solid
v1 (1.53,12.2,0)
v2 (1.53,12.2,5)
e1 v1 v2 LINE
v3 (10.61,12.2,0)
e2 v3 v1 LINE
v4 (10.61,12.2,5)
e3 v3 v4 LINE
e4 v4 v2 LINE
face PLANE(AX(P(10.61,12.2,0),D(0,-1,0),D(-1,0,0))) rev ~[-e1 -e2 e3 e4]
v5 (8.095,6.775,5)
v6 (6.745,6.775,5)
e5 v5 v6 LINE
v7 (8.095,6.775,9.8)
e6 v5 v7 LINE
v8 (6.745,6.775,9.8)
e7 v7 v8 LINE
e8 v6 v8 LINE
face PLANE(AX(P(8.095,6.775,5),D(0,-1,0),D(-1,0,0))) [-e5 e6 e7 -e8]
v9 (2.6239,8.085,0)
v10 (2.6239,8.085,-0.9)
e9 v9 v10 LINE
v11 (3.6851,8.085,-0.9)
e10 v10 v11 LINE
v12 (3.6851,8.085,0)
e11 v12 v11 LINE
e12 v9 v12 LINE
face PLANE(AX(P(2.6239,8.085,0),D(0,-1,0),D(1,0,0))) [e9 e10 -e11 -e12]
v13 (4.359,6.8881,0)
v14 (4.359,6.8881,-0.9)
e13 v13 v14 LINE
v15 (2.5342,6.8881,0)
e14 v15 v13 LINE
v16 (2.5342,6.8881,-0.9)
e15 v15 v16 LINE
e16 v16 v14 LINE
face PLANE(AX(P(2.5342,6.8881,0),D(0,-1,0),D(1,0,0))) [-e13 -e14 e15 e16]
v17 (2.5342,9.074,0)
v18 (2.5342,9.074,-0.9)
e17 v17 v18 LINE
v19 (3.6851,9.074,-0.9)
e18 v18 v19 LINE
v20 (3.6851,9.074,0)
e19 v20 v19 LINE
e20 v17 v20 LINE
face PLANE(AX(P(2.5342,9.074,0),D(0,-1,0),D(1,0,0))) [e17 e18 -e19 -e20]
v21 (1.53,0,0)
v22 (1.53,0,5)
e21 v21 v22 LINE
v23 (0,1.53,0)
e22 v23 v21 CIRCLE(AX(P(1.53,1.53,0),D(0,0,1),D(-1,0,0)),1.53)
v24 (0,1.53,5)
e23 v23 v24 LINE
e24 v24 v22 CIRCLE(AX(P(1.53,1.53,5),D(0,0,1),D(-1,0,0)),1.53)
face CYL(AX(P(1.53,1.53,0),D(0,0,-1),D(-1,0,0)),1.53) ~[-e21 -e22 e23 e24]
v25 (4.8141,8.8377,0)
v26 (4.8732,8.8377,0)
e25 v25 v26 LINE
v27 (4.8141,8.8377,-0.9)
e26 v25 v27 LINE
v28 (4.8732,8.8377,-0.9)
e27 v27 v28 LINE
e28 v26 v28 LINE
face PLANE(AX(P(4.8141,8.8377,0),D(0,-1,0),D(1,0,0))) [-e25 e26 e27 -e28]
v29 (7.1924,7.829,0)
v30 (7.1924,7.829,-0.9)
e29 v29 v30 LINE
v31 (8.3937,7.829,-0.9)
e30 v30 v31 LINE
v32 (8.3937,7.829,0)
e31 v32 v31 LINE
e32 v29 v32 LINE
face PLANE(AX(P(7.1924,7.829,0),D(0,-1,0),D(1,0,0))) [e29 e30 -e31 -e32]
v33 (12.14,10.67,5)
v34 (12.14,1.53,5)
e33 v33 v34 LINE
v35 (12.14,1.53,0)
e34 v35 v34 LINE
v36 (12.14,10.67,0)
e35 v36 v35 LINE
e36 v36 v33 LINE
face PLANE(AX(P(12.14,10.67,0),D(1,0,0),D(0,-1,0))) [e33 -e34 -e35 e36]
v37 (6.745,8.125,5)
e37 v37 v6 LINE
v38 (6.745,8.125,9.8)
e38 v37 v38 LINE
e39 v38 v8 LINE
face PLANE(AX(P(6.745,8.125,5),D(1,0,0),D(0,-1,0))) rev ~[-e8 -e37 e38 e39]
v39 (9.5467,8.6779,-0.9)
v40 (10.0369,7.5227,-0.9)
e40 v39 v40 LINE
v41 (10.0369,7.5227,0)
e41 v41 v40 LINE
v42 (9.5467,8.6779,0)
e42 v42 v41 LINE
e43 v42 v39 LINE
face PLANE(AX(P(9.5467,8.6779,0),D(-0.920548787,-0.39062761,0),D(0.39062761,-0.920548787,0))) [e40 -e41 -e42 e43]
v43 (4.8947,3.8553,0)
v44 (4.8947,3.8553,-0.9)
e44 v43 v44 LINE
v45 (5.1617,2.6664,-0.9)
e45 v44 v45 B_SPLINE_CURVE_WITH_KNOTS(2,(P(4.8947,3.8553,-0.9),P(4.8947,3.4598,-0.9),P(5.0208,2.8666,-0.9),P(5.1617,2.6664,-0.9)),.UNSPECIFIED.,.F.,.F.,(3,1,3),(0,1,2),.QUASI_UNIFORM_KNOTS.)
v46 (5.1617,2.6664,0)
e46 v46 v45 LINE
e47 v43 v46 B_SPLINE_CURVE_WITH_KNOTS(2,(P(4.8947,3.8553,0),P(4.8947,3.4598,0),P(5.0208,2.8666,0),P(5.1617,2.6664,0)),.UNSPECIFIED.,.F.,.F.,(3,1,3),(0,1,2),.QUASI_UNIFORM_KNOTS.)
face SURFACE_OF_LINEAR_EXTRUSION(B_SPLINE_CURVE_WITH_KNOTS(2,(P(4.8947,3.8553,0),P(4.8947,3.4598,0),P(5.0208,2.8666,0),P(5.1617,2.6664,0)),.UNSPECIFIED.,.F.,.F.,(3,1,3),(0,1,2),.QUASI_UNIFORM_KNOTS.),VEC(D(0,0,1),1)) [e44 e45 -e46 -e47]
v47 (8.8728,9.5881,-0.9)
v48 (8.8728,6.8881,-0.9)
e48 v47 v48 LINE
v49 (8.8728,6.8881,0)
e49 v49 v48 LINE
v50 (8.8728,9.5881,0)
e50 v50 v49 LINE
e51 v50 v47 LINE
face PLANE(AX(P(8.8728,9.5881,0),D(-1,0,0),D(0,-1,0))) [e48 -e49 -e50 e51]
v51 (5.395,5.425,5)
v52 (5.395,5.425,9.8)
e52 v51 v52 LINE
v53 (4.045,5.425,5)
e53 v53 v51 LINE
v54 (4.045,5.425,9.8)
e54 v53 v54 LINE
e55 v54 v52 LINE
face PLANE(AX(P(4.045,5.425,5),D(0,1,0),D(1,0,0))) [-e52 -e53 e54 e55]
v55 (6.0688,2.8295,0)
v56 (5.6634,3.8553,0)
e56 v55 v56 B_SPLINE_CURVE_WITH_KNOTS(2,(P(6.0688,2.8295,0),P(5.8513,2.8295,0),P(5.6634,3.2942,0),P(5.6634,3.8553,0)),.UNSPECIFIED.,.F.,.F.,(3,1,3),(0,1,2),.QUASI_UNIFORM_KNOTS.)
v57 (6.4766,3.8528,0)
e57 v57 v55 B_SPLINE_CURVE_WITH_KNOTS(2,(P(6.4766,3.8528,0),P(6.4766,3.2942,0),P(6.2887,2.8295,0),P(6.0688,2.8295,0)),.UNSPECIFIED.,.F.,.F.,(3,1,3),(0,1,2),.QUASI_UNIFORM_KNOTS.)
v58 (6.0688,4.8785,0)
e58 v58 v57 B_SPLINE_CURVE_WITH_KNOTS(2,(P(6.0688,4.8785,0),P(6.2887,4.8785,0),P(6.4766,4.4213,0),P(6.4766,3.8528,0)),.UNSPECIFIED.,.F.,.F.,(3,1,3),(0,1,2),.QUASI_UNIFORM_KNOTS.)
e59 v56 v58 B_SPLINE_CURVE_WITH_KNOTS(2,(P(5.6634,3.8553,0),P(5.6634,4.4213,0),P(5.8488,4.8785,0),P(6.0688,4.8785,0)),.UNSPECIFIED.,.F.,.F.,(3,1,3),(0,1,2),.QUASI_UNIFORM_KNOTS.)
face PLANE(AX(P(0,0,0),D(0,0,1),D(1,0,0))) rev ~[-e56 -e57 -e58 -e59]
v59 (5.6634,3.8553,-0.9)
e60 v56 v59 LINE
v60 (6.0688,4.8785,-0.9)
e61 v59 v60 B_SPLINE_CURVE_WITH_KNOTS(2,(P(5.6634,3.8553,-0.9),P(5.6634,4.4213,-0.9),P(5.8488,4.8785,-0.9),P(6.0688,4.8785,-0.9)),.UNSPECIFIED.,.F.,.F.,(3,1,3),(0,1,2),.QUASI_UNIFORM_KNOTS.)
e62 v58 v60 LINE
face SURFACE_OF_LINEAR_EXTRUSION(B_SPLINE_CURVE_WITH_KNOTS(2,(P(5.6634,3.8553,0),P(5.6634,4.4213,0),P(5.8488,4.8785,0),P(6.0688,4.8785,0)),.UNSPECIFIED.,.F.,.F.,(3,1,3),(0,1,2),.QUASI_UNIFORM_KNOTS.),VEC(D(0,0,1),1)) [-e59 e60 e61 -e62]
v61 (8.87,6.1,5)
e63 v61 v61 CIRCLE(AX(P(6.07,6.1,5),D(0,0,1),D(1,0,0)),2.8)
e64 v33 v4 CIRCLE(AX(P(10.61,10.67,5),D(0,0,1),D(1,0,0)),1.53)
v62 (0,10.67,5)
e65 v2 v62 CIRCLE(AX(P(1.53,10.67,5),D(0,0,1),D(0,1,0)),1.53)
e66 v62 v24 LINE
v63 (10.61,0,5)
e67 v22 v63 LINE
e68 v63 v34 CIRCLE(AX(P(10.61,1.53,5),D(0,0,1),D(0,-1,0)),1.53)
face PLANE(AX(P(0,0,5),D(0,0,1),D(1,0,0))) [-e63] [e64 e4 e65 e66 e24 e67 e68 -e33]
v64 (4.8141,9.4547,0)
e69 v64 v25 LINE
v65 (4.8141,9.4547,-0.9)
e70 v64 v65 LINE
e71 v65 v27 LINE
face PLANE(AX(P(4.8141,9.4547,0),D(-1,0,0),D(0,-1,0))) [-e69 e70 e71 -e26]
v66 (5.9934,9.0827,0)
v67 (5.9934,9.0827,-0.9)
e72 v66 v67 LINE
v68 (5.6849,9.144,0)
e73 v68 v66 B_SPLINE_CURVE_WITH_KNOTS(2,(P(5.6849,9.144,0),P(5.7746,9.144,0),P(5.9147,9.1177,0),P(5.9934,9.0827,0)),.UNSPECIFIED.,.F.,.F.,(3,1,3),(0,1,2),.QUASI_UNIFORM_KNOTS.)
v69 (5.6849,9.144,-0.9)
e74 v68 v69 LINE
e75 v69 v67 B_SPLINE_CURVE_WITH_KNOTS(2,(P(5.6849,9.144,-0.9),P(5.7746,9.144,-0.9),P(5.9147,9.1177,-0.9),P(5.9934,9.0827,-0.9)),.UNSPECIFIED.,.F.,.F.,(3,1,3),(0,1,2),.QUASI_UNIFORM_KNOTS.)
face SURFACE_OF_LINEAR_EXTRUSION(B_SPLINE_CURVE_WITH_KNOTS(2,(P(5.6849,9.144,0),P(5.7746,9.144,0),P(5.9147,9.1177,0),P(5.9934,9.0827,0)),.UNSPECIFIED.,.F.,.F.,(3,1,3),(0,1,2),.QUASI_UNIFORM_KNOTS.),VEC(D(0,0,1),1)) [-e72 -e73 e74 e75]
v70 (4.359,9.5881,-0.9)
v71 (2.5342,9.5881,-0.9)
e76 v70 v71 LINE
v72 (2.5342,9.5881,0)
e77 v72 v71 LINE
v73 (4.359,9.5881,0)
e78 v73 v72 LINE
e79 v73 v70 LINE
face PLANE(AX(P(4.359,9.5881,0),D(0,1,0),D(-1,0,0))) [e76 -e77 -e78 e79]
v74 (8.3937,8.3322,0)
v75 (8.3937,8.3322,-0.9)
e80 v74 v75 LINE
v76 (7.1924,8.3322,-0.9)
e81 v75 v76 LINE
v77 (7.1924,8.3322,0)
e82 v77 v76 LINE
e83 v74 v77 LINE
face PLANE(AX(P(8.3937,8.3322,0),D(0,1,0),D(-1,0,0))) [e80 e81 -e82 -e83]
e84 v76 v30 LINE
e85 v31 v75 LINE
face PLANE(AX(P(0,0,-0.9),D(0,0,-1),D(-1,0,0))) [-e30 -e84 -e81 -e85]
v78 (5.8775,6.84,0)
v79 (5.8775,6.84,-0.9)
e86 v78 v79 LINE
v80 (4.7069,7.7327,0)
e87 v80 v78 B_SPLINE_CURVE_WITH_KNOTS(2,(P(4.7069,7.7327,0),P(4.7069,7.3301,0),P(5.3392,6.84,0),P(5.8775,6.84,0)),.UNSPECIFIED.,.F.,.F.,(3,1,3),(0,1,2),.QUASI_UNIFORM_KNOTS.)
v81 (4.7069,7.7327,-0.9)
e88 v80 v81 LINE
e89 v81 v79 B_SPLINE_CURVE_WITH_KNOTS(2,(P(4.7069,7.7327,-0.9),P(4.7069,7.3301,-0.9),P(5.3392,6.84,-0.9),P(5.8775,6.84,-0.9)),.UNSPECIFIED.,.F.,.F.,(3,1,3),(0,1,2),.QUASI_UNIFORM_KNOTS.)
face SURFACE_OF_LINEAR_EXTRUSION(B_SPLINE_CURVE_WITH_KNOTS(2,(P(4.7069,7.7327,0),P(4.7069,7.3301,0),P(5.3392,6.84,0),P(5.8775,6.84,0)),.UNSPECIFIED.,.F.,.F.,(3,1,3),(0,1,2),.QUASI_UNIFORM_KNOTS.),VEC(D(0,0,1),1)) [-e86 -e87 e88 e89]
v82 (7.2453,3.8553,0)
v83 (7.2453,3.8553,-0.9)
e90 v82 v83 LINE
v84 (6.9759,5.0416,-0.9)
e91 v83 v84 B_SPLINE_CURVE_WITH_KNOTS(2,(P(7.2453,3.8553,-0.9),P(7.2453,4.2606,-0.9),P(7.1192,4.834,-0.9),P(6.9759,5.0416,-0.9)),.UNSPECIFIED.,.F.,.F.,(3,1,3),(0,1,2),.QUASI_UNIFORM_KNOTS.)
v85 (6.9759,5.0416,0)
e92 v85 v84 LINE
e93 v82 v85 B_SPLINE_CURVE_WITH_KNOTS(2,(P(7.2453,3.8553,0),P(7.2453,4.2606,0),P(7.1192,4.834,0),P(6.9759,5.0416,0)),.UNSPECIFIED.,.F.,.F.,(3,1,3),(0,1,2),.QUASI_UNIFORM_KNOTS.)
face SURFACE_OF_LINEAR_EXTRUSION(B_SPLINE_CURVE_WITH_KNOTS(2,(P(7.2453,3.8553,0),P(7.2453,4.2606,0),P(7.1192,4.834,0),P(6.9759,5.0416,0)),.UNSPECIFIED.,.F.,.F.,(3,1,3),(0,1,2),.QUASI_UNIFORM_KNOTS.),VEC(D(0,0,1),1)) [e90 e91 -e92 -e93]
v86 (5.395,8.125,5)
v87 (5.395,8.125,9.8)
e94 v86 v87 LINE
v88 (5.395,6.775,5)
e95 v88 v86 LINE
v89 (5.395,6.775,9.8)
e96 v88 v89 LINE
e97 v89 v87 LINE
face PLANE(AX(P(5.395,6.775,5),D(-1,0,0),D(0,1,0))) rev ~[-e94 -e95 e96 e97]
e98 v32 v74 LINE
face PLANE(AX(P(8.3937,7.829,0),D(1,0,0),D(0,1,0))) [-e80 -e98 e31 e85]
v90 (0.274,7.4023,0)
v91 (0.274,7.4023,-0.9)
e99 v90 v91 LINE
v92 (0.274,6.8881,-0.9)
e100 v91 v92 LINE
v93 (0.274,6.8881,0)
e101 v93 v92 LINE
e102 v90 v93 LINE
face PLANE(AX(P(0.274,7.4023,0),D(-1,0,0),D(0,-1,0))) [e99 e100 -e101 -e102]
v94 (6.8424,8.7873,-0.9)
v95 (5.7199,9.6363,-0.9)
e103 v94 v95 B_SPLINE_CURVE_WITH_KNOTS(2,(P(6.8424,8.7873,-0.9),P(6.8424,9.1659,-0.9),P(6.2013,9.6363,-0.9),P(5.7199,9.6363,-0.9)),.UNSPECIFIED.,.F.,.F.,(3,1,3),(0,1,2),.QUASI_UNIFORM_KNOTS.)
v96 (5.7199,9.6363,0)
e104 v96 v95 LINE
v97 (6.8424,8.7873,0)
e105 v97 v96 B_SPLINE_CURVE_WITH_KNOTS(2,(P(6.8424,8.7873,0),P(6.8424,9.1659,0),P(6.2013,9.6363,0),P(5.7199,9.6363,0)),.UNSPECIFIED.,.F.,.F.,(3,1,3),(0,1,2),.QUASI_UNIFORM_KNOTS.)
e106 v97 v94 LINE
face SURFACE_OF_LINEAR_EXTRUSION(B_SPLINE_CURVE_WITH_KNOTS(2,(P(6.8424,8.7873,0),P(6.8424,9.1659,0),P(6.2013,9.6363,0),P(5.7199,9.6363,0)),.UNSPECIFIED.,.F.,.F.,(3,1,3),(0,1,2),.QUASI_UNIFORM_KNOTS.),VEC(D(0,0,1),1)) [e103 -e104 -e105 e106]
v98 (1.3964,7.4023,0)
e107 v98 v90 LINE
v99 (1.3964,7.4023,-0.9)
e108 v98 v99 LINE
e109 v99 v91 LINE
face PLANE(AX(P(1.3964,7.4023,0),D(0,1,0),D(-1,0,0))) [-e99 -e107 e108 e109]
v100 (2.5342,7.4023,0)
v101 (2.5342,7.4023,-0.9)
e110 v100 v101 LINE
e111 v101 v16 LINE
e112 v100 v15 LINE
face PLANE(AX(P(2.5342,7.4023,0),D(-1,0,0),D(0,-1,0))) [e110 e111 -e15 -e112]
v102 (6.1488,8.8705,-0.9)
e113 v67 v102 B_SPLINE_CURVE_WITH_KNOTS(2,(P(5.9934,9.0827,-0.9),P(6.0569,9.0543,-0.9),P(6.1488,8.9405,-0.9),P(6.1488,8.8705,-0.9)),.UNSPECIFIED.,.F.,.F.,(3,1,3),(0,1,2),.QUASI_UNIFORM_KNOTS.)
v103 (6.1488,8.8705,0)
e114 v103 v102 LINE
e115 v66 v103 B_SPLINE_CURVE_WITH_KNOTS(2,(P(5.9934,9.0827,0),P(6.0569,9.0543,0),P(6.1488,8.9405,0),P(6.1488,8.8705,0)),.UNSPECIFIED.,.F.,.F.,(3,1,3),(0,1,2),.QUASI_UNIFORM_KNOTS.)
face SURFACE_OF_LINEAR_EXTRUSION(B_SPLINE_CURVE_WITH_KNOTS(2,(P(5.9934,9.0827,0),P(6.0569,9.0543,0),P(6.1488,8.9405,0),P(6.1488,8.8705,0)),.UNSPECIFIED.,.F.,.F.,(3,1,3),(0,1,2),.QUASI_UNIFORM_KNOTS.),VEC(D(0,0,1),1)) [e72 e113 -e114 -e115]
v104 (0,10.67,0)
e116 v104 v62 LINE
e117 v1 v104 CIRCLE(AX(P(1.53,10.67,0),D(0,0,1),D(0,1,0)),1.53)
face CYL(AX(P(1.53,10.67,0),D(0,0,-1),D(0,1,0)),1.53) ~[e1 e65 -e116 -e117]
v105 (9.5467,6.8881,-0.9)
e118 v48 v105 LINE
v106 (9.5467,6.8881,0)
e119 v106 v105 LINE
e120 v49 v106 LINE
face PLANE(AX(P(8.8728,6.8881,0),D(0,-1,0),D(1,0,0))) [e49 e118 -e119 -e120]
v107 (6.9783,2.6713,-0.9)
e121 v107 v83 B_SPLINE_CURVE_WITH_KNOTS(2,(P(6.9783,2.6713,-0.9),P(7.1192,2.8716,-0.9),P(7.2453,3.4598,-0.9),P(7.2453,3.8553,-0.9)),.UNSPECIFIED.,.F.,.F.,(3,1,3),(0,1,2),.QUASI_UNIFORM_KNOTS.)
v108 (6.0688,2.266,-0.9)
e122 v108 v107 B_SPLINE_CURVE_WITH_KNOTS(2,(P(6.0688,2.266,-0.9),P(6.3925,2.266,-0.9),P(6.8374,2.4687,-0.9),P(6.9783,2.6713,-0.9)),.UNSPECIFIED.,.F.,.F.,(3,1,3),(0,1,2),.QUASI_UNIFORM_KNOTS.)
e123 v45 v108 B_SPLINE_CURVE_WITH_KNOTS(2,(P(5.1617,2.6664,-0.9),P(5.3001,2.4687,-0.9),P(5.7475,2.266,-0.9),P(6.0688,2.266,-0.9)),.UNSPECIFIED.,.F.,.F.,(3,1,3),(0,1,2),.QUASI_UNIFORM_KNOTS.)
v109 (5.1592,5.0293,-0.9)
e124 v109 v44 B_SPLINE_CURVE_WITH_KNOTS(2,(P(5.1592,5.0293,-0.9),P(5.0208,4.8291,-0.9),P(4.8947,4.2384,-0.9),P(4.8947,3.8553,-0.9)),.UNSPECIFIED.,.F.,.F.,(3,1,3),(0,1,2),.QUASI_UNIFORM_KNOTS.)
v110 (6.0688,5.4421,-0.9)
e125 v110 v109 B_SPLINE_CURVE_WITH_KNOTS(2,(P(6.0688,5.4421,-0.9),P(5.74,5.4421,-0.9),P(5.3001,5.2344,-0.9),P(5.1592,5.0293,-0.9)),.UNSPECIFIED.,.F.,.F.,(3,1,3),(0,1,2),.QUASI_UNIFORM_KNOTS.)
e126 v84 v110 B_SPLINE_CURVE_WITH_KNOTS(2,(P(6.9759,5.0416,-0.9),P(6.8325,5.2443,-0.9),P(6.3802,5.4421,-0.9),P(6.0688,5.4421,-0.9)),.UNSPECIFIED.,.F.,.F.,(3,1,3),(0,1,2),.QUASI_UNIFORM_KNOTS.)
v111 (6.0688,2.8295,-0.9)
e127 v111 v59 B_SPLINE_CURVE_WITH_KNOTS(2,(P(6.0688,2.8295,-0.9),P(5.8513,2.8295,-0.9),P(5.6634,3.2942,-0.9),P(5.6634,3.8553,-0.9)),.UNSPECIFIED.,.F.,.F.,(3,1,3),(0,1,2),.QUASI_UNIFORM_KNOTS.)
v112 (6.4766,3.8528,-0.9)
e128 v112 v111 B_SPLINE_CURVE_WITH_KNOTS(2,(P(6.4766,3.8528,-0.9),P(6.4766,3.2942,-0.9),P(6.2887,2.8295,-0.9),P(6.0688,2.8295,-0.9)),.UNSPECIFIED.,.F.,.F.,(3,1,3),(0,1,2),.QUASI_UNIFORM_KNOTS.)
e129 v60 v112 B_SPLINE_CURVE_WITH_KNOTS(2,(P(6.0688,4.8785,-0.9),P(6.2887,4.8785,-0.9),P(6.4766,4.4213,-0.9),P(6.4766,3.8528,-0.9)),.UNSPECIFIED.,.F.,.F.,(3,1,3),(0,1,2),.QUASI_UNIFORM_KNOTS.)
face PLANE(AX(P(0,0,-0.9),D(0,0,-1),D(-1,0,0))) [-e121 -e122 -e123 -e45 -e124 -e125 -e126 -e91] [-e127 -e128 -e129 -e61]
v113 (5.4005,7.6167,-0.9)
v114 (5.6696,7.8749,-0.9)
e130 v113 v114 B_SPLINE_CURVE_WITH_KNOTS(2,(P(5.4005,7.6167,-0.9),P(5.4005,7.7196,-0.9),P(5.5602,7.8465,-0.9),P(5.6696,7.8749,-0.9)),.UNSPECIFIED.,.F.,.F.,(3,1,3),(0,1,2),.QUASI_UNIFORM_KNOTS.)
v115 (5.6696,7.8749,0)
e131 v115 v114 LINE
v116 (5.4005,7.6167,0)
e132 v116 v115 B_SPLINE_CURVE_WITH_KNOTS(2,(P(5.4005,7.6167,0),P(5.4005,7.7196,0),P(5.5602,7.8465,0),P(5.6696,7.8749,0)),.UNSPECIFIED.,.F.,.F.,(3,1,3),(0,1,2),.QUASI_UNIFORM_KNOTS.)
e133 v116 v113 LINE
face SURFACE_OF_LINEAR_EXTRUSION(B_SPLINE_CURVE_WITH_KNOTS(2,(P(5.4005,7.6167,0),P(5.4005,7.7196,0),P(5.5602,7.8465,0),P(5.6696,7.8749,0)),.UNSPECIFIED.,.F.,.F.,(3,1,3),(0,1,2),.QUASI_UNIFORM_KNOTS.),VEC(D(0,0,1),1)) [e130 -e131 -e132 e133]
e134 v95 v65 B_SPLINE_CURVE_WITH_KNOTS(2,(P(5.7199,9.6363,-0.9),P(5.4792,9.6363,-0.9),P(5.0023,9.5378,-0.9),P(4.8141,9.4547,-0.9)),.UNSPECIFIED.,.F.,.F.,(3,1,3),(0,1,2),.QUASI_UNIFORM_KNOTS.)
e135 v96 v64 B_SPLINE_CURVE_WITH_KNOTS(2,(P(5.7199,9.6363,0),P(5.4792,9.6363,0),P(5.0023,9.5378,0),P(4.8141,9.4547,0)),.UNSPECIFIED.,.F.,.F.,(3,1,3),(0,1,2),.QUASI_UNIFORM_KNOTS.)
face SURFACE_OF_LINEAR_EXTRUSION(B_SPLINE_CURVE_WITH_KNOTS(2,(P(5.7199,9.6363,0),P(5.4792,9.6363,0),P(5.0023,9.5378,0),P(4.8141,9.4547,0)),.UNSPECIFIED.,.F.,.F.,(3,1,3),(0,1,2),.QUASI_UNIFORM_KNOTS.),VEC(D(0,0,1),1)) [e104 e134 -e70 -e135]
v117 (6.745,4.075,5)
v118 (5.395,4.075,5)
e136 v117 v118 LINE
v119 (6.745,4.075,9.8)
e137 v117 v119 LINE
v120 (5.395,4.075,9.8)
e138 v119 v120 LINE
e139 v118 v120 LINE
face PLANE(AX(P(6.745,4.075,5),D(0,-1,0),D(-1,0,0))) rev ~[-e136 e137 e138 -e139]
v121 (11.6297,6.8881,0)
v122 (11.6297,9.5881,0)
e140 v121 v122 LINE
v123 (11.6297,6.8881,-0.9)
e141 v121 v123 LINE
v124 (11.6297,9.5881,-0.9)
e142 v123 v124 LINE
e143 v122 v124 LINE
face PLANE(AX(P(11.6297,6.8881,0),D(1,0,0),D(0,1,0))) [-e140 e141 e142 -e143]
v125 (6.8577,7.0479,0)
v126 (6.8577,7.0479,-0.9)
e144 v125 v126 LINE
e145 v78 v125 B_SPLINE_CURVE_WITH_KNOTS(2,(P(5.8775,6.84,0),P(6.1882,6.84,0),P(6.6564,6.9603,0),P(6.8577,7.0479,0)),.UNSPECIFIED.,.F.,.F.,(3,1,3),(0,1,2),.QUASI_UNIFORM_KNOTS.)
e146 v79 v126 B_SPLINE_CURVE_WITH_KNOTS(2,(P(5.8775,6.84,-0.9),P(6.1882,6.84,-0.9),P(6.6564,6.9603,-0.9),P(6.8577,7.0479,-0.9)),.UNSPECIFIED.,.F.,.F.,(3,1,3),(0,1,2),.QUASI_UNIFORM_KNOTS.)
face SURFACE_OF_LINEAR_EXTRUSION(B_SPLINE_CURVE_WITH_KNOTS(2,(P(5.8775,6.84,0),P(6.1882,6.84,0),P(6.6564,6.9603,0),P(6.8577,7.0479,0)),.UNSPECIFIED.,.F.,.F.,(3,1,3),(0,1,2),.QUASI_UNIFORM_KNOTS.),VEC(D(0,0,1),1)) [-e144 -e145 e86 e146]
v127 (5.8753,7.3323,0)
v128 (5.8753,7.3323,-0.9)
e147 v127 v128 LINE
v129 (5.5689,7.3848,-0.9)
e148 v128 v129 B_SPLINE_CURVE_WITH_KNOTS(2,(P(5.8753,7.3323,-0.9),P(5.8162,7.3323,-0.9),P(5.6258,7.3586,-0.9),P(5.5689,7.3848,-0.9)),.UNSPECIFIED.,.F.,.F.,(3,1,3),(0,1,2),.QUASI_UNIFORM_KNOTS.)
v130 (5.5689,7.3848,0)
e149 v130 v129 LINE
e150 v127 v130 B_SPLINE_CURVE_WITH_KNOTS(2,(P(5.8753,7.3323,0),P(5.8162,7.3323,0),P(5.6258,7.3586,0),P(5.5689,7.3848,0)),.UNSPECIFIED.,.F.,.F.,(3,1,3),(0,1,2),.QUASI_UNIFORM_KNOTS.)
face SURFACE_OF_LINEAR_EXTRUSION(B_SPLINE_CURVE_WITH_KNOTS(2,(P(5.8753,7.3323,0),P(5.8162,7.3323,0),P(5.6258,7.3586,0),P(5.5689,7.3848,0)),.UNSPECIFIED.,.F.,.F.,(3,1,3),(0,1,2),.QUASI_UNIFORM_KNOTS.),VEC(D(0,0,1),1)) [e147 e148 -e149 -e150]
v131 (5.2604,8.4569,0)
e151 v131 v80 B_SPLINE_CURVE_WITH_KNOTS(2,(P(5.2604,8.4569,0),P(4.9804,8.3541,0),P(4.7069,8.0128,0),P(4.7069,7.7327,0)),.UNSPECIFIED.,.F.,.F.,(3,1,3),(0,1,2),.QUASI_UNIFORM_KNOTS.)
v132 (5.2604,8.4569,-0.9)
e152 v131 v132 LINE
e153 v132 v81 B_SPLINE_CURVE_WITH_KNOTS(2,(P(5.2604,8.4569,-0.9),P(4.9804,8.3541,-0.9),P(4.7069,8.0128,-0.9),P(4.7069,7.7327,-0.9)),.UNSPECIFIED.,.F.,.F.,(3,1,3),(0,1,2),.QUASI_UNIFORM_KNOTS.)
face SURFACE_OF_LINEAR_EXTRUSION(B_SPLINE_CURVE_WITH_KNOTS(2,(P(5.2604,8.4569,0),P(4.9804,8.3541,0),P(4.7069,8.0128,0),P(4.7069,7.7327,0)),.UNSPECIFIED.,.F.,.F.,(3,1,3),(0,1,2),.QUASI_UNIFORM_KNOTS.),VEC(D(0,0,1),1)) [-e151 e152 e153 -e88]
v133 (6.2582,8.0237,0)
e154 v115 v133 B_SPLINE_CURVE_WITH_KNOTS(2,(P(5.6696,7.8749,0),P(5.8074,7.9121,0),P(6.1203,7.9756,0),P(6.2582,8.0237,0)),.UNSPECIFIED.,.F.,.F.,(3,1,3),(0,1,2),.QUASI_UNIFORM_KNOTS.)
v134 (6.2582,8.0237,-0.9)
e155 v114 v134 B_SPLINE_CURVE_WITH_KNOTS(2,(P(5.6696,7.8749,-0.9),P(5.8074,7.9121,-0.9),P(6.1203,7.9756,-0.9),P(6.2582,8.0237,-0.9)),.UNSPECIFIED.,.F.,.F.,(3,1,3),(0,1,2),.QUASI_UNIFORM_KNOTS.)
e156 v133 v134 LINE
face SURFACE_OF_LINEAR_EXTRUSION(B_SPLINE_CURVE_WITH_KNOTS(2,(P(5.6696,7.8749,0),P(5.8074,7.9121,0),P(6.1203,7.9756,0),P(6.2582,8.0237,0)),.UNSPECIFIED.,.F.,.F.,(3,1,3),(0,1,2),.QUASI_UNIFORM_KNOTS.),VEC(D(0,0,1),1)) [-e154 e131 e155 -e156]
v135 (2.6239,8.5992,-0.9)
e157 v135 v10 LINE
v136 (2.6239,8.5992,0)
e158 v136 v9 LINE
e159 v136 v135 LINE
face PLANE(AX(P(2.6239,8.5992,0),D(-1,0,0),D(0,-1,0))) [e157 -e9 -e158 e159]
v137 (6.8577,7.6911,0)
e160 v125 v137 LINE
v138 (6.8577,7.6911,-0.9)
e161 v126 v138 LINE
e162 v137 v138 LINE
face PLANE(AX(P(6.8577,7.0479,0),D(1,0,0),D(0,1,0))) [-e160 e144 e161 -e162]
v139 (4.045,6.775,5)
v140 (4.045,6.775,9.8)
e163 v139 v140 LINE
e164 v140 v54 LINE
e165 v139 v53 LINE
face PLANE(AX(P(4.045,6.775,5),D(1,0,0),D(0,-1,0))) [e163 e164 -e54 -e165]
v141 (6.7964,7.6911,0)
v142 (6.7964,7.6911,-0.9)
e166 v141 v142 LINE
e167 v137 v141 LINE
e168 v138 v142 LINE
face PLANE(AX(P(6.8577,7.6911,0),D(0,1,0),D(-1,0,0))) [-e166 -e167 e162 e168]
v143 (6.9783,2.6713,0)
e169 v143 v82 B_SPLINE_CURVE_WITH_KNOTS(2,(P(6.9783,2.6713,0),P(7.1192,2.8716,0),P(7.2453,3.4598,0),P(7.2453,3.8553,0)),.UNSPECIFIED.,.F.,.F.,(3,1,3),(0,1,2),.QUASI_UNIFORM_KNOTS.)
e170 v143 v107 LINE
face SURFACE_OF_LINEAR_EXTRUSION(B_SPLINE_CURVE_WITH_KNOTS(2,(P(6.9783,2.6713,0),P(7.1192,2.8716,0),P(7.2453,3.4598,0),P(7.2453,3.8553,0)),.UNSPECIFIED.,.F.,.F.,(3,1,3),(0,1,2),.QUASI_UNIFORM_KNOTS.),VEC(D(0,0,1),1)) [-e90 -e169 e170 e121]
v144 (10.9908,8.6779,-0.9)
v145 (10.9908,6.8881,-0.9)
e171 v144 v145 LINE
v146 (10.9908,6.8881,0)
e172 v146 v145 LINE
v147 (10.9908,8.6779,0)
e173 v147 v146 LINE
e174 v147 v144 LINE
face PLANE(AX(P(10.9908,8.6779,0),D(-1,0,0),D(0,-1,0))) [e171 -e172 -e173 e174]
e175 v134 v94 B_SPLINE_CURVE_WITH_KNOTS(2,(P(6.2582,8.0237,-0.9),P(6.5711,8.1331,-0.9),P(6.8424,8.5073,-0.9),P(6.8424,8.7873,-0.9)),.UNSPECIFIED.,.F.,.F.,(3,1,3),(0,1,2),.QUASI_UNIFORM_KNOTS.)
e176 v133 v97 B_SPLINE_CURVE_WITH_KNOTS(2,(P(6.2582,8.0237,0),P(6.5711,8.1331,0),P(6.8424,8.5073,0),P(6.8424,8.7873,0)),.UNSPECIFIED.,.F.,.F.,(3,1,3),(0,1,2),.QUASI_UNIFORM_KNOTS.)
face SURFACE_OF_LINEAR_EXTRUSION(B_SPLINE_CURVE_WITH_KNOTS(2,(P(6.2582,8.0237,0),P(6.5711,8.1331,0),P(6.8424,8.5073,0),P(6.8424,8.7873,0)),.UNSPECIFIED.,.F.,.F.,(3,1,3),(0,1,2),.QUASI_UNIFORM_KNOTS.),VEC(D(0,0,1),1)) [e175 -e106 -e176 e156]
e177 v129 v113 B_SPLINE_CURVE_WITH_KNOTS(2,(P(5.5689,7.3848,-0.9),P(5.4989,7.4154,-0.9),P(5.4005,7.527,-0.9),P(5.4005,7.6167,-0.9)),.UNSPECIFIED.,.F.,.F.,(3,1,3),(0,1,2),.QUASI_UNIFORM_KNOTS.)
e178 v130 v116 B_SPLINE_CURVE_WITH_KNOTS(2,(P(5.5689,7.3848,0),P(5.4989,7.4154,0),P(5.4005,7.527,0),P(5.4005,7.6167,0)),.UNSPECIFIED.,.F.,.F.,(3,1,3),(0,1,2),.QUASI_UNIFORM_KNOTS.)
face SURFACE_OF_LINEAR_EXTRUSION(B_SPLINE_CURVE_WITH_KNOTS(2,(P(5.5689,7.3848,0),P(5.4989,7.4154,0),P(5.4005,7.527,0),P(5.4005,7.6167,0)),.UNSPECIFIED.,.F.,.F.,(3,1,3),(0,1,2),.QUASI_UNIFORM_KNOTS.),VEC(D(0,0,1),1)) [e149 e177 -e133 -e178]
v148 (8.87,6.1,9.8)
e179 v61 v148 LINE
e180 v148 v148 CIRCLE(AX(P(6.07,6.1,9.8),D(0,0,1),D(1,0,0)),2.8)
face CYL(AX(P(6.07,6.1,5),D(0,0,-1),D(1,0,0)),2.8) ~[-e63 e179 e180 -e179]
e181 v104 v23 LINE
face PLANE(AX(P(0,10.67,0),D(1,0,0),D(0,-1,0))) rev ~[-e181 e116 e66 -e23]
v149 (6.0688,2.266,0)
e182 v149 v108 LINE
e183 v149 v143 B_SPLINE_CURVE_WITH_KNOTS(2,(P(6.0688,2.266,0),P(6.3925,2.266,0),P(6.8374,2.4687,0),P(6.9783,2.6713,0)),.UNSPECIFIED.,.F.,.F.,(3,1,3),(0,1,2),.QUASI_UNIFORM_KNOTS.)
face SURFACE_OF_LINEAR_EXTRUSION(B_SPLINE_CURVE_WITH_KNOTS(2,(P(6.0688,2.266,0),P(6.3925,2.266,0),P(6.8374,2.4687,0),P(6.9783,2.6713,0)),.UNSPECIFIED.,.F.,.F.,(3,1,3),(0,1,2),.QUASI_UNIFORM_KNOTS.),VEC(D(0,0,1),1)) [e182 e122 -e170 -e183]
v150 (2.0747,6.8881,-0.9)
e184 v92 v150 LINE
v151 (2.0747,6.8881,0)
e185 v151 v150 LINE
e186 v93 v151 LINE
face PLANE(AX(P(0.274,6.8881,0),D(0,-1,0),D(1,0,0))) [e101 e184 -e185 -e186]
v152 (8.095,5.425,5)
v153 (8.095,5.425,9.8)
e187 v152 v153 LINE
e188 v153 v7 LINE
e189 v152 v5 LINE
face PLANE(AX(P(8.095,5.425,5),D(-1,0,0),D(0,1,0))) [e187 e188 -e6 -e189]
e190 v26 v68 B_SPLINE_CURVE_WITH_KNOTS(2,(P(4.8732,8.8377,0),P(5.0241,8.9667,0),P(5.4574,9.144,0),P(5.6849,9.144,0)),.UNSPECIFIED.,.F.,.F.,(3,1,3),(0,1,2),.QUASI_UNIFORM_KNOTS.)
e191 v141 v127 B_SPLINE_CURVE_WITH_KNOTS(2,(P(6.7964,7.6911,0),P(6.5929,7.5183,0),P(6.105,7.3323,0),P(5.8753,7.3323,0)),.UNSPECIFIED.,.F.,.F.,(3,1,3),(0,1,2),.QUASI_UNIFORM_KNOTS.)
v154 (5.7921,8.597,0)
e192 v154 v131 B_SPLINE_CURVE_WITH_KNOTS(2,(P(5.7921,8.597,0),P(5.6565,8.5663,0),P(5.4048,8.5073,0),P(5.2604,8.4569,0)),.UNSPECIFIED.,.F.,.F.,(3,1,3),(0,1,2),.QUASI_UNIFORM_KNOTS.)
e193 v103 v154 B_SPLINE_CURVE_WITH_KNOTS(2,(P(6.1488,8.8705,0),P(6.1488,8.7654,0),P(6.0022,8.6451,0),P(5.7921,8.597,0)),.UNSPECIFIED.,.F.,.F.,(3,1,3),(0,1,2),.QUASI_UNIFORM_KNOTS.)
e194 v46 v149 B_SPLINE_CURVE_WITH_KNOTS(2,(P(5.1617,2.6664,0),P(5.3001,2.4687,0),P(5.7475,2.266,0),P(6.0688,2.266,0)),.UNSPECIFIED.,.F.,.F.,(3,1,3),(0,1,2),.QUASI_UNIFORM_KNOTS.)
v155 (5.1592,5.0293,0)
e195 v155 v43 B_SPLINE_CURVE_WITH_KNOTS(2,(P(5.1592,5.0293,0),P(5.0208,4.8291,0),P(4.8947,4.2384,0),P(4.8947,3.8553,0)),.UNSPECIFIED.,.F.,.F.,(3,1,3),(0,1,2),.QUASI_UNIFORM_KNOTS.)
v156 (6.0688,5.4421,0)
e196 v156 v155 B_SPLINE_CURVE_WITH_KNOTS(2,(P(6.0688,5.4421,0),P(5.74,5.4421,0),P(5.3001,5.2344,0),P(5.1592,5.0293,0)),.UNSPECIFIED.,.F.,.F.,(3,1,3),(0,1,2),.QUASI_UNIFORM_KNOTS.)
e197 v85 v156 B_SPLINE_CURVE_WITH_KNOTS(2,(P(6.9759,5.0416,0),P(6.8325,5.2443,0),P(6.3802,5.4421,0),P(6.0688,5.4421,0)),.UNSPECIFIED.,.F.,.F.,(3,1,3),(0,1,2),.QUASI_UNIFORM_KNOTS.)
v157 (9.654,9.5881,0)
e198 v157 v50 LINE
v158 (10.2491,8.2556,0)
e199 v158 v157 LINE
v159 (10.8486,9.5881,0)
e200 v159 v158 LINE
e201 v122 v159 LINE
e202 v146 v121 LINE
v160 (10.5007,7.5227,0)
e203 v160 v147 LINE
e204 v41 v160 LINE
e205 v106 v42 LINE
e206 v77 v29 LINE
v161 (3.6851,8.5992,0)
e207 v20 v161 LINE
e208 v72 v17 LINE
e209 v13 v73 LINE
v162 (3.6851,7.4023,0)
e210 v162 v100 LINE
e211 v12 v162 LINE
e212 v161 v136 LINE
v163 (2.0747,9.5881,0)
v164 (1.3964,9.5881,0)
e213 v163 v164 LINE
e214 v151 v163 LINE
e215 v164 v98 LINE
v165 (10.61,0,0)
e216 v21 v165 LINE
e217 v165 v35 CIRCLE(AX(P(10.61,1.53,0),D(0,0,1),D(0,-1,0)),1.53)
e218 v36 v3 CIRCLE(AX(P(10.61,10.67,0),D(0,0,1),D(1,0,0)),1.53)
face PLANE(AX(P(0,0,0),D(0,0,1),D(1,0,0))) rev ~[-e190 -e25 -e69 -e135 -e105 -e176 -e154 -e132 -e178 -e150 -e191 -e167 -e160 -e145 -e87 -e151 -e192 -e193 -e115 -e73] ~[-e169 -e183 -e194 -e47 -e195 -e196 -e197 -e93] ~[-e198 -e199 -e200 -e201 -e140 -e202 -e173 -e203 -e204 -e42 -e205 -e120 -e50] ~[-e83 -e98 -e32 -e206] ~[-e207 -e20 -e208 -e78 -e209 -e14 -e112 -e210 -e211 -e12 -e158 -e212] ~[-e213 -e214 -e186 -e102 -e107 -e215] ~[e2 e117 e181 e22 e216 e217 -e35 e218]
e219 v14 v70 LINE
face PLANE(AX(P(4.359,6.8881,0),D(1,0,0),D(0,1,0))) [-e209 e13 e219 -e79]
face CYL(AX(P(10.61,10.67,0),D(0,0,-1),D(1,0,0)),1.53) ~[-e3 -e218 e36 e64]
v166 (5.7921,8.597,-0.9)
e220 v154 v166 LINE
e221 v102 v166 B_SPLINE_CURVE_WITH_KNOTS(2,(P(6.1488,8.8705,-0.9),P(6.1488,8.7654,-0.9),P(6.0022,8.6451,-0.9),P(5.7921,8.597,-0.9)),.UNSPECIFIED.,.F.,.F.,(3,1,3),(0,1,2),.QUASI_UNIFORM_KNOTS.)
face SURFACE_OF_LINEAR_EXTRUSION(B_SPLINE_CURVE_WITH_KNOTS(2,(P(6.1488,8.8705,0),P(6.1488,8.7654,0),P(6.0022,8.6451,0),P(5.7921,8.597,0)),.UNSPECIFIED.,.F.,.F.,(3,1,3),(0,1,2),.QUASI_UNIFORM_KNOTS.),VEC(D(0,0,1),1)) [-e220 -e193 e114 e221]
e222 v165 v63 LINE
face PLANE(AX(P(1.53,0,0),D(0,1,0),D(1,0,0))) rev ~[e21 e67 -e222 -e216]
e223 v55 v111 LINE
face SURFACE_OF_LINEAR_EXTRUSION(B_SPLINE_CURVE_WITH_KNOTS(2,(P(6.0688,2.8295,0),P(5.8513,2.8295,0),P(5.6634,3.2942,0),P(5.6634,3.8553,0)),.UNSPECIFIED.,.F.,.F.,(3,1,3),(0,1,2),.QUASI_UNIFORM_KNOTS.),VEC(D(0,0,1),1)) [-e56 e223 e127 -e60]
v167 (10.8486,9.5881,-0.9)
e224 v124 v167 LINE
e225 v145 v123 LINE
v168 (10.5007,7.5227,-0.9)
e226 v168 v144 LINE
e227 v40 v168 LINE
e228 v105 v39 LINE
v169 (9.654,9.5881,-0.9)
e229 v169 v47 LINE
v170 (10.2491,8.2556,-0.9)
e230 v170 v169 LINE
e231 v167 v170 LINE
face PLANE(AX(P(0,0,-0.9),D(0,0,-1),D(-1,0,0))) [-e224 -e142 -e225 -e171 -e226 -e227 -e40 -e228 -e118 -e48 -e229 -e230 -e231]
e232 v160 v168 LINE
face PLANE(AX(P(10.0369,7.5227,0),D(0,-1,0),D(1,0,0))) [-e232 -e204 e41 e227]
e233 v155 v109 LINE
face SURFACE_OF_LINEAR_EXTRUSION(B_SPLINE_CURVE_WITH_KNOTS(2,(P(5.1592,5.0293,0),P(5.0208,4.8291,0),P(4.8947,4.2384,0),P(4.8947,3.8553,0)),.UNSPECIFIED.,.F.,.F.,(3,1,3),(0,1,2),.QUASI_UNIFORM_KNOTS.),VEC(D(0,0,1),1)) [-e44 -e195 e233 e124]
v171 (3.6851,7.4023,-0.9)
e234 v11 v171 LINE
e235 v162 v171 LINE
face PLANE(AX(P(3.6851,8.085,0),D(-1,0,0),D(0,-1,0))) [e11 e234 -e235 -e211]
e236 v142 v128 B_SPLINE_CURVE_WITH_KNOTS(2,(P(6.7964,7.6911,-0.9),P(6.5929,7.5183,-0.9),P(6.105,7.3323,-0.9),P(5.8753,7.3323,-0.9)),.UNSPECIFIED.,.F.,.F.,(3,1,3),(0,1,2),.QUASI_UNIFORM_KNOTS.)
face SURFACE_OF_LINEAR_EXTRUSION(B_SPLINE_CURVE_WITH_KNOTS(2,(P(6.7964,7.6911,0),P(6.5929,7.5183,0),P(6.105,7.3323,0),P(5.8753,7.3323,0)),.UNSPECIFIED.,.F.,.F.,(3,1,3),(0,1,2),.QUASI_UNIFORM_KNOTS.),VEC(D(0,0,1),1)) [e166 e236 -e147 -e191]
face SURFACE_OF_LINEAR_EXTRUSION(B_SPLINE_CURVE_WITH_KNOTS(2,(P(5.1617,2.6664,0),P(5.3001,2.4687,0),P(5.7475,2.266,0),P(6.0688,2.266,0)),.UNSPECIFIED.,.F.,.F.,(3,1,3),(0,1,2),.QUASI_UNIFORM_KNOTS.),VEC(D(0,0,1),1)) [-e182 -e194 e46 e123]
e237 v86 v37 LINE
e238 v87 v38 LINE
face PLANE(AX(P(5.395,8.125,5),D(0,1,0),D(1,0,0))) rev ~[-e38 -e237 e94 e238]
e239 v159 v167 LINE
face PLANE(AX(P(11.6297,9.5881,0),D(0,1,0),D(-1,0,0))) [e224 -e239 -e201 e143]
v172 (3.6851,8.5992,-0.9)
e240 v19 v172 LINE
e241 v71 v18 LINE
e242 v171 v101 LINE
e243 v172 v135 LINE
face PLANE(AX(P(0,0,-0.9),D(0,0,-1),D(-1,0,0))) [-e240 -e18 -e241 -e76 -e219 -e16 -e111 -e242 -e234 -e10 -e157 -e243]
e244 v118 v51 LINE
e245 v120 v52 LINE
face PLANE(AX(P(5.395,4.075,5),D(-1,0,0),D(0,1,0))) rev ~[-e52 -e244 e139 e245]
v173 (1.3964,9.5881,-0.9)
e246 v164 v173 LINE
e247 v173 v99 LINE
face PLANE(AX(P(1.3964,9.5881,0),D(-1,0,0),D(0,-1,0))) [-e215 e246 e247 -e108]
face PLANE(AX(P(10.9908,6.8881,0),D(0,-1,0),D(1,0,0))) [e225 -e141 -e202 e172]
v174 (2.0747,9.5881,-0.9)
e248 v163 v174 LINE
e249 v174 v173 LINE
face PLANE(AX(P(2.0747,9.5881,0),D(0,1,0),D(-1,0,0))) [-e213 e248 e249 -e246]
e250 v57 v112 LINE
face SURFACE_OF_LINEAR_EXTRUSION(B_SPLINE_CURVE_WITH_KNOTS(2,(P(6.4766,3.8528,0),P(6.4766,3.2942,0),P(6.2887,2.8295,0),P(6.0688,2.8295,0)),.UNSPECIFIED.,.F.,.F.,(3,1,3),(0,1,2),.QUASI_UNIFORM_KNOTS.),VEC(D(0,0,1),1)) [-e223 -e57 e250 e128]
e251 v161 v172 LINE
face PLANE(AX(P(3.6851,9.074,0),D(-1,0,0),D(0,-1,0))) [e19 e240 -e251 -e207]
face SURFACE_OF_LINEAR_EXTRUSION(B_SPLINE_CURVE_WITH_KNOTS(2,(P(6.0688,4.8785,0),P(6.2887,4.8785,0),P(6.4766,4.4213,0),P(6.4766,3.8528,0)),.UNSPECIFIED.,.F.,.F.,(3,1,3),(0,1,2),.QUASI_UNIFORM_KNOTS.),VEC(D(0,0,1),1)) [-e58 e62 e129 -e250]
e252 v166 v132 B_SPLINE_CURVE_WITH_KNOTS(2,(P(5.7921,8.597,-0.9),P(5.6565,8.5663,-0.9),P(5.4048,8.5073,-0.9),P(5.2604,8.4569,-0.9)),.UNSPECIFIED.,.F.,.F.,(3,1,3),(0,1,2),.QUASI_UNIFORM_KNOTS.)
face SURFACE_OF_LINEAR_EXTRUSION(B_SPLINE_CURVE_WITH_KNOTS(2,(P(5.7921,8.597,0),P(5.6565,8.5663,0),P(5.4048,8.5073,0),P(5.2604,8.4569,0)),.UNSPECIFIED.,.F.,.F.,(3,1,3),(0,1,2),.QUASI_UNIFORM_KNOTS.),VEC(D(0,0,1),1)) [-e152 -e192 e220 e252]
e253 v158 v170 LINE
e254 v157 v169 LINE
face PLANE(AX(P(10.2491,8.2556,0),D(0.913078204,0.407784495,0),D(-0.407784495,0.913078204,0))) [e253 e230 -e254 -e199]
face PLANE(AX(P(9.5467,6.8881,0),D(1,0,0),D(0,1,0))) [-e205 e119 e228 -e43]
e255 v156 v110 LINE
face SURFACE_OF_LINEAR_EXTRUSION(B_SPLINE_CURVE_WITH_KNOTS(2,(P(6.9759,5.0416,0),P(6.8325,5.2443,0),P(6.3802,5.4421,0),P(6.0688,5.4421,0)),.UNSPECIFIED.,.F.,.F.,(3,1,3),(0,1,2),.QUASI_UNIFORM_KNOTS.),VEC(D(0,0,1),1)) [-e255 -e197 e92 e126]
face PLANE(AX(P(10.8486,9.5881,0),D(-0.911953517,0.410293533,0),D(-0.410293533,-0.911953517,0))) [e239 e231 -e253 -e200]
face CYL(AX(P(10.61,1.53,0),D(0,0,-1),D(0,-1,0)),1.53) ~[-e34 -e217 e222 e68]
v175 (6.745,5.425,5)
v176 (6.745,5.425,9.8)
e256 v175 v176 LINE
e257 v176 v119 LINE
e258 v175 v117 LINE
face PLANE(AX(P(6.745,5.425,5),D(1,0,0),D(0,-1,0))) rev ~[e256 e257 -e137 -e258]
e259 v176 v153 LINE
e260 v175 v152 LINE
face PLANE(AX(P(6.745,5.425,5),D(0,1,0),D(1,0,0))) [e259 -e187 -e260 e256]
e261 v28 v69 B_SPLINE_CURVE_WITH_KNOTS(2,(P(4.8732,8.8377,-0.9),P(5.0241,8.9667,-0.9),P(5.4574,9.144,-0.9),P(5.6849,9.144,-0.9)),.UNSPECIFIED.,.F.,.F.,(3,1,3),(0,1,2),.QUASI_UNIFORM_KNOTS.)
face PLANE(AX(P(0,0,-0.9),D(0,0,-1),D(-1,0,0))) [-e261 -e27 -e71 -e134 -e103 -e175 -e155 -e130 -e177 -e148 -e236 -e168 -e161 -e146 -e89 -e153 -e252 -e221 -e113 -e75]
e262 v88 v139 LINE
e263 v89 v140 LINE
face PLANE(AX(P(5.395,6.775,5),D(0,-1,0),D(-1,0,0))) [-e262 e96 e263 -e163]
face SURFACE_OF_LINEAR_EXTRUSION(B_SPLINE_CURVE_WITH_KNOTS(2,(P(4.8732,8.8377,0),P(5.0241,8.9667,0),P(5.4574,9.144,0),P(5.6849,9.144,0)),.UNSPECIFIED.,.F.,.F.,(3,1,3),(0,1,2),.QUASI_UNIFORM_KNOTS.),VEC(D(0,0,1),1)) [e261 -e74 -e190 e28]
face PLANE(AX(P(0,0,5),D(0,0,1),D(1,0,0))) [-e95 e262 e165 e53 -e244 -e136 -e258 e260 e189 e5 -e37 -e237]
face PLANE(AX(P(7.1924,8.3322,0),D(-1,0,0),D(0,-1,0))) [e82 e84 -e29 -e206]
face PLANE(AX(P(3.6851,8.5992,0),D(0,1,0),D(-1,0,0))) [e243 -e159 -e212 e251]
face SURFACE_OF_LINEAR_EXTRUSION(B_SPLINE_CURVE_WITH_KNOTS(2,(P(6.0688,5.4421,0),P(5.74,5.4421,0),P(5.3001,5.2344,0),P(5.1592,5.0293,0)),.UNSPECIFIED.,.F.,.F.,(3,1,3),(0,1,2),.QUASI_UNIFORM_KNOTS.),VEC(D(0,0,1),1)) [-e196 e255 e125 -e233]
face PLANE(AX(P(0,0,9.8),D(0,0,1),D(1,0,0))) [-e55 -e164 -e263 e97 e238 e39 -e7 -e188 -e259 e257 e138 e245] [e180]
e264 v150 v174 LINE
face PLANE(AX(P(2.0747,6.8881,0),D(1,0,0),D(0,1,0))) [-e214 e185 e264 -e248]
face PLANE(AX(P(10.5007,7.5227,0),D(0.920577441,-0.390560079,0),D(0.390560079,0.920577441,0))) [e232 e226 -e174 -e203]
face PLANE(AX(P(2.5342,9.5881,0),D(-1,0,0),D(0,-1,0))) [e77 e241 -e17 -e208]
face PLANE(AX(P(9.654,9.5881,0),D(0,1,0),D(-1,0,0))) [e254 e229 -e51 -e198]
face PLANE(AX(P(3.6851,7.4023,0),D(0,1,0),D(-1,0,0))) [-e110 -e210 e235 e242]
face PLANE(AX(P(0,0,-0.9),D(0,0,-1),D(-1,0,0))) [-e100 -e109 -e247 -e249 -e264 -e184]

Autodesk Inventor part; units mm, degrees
ref_plane "YZ Plane" through (0, 0, 0) normal (1, 0, 0) x (0, 1, 0)
ref_plane "XZ Plane" through (0, 0, 0) normal (0, 1, 0) x (-1, 0, 0)
sketch "Sketch1" plane through (0, 0, 0) normal (0, 0, 1) x (1, 0, 0)
  line L0 (14.6962, 12.74) -> (14.6962, 0) construction
  line L1 (10.61, 12.2) -> (1.53, 12.2)
  arc A0 (1.53, 12.2) -> (0, 10.67) centre (1.53, 10.67) ccw
  line L2 (0, 10.67) -> (0, 1.53)
  arc A1 (0, 1.53) -> (1.53, 0) centre (1.53, 1.53) ccw
  line L3 (1.53, 0) -> (10.61, 0)
  arc A2 (10.61, 0) -> (12.14, 1.53) centre (10.61, 1.53) ccw
  arc A3 (12.14, 10.67) -> (10.61, 12.2) centre (10.61, 10.67) ccw
  line L4 (12.14, 10.67) -> (12.14, 1.53)
  point P0 (0, 0)
  point P1 (0, 0)
  dimension "d10" = 12.74
ref_plane "Work Plane1" through (0, 0, 5) normal (0, 0, 1) x (1, 0, 0)
sketch "Sketch2" plane through (0, 0, 5) normal (0, 0, 1) x (1, 0, 0)
  line L0 (10.88, 12.74) -> (1.8, 12.74) projected
  line L1 (10.88, 12.74) -> (1.8, 12.74) projected
  arc A0 (1.8, 12.74) -> (0, 10.94) centre (1.8, 10.94) ccw projected
  line L2 (0, 10.94) -> (0, 1.8) projected
  arc A1 (0, 1.8) -> (1.8, 0) centre (1.8, 1.8) ccw projected
  line L3 (1.8, 0) -> (10.88, 0) projected
  arc A2 (10.88, 0) -> (12.68, 1.8) centre (10.88, 1.8) ccw projected
  line L4 (12.68, 1.8) -> (12.68, 10.94) projected
  arc A3 (12.68, 10.94) -> (10.88, 12.74) centre (10.88, 10.94) ccw projected
  circle A4 centre (6.34, 6.37) radius 2.8
  line L5 (5.665, 8.395) -> (7.015, 8.395)
  line L6 (7.015, 4.345) -> (5.665, 4.345)
  line L7 (5.665, 4.345) -> (7.015, 8.395) construction
  line L8 (5.665, 8.395) -> (7.015, 4.345) construction
  line L9 (8.365, 5.695) -> (8.365, 7.045)
  line L10 (4.315, 7.045) -> (4.315, 5.695)
  line L11 (4.315, 5.695) -> (8.365, 7.045) construction
  line L12 (8.365, 5.695) -> (4.315, 7.045) construction
  line L13 (4.315, 5.695) -> (5.665, 5.695)
  line L14 (7.015, 5.695) -> (8.365, 5.695)
  line L15 (5.665, 4.345) -> (5.665, 5.695)
  line L16 (5.665, 7.045) -> (5.665, 8.395)
  line L17 (8.365, 7.045) -> (7.015, 7.045)
  line L18 (5.665, 7.045) -> (4.315, 7.045)
  line L19 (7.015, 8.395) -> (7.015, 7.045)
  line L20 (7.015, 5.695) -> (7.015, 4.345)
  point P0 (0, 0)
  dimension "d3" = 5.6
  dimension "d4" = 4.05
  dimension "d5" = 1.35
  dimension "d6" = 4.05
  dimension "d7" = 1.35
extrude "Extrusion3" add sketch "Sketch1" along normal blind 5
sketch "Sketch3" plane through (0, 0, 5) normal (0, 0, 1) x (1, 0, 0)
  line L0 (10.61, 12.47) -> (1.53, 12.47)
  line L1 (10.61, 12.47) -> (1.53, 12.47)
  arc A0 (1.53, 12.47) -> (-0.27, 10.67) centre (1.53, 10.67) ccw
  line L2 (-0.27, 10.67) -> (-0.27, 1.53)
  arc A1 (-0.27, 1.53) -> (1.53, -0.27) centre (1.53, 1.53) ccw
  line L3 (1.53, -0.27) -> (10.61, -0.27)
  arc A2 (10.61, -0.27) -> (12.41, 1.53) centre (10.61, 1.53) ccw
  line L4 (12.41, 1.53) -> (12.41, 10.67)
  arc A3 (12.41, 10.67) -> (10.61, 12.47) centre (10.61, 10.67) ccw
  circle A4 centre (6.07, 6.1) radius 2.8
  line L5 (5.395, 8.125) -> (6.745, 8.125)
  line L6 (6.745, 4.075) -> (5.395, 4.075)
  line L7 (5.395, 4.075) -> (6.745, 8.125) construction
  line L8 (5.395, 8.125) -> (6.745, 4.075) construction
  line L9 (8.095, 5.425) -> (8.095, 6.775)
  line L10 (4.045, 6.775) -> (4.045, 5.425)
  line L11 (4.045, 5.425) -> (8.095, 6.775) construction
  line L12 (8.095, 5.425) -> (4.045, 6.775) construction
  line L13 (4.045, 5.425) -> (5.395, 5.425)
  line L14 (6.745, 5.425) -> (8.095, 5.425)
  line L15 (5.395, 4.075) -> (5.395, 5.425)
  line L16 (5.395, 6.775) -> (5.395, 8.125)
  line L17 (8.095, 6.775) -> (6.745, 6.775)
  line L18 (5.395, 6.775) -> (4.045, 6.775)
  line L19 (6.745, 8.125) -> (6.745, 6.775)
  line L20 (6.745, 5.425) -> (6.745, 4.075)
  line L21 (10.61, 12.2) -> (1.53, 12.2) projected
  line L22 (0, 10.67) -> (0, 1.53) projected
  point P0 (0, 0)
  point P1 (-0.27, -0.27)
  point P2 (6.07, 12.2)
  point P3 (0, 6.1)
  point P4 (6.07, 6.1)
  dimension "d14" = 5.6
  dimension "d15" = 4.05
  dimension "d16" = 1.35
  dimension "d17" = 4.05
  dimension "d18" = 1.35
extrude "Extrusion4" add sketch "Sketch3" along normal blind 4.8 contours A4
sketch "Sketch4" plane through (0, 0, 0) normal (0, 0, -1) x (-1, 0, 0)
  line L0 (-13.9436, 0) -> (-13.9436, 2.266)
  line L1 (-15.5559, 0) -> (-15.5559, 6.84)
  line L2 (-1.53, 0) -> (-10.61, 0) projected
  line L3 (-11.9098, 9.6363) -> (-0.2302, 9.6363) construction
  line L4 (-0.2302, 9.6363) -> (-0.2302, 6.84) construction
  line L5 (-0.2302, 6.84) -> (-11.9098, 6.84) construction
  line L6 (-11.9098, 6.84) -> (-11.9098, 9.6363) construction
  line L7 (-7.4059, 5.4421) -> (-4.7341, 5.4421) construction
  line L8 (-4.7341, 5.4421) -> (-4.7341, 2.266) construction
  line L9 (-4.7341, 2.266) -> (-7.4059, 2.266) construction
  line L10 (-7.4059, 2.266) -> (-7.4059, 5.4421) construction
  line L11 (-8.8728, 6.8881) -> (-9.5467, 6.8881)
  line L12 (-9.5467, 6.8881) -> (-9.5467, 8.6779)
  line L13 (-9.5467, 8.6779) -> (-10.0369, 7.5227)
  line L14 (-10.0369, 7.5227) -> (-10.5007, 7.5227)
  line L15 (-10.5007, 7.5227) -> (-10.9908, 8.6779)
  line L16 (-10.9908, 8.6779) -> (-10.9908, 6.8881)
  line L17 (-10.9908, 6.8881) -> (-11.6297, 6.8881)
  line L18 (-11.6297, 6.8881) -> (-11.6297, 9.5881)
  line L19 (-11.6297, 9.5881) -> (-10.8486, 9.5881)
  line L20 (-10.8486, 9.5881) -> (-10.2491, 8.2556)
  line L21 (-10.2491, 8.2556) -> (-9.654, 9.5881)
  line L22 (-9.654, 9.5881) -> (-8.8728, 9.5881)
  line L23 (-8.8728, 9.5881) -> (-8.8728, 6.8881)
  line L24 (-7.1924, 7.829) -> (-8.3937, 7.829)
  line L25 (-8.3937, 7.829) -> (-8.3937, 8.3322)
  line L26 (-8.3937, 8.3322) -> (-7.1924, 8.3322)
  line L27 (-7.1924, 8.3322) -> (-7.1924, 7.829)
  spline S0 degree 2 poles (-5.8775, 6.84) (-6.1882, 6.84) (-6.6564, 6.9603) (-6.8577, 7.0479) knots 0 0 0 1 2 2 2
  line L28 (-6.8577, 7.0479) -> (-6.8577, 7.6911)
  line L29 (-6.8577, 7.6911) -> (-6.7964, 7.6911)
  spline S1 degree 2 poles (-6.7964, 7.6911) (-6.5929, 7.5183) (-6.105, 7.3323) (-5.8753, 7.3323) knots 0 0 0 1 2 2 2
  spline S2 degree 2 poles (-5.8753, 7.3323) (-5.8162, 7.3323) (-5.6258, 7.3586) (-5.5689, 7.3848) knots 0 0 0 1 2 2 2
  spline S3 degree 2 poles (-5.5689, 7.3848) (-5.4989, 7.4154) (-5.4005, 7.527) (-5.4005, 7.6167) knots 0 0 0 1 2 2 2
  spline S4 degree 2 poles (-5.4005, 7.6167) (-5.4005, 7.7196) (-5.5602, 7.8465) (-5.6696, 7.8749) knots 0 0 0 1 2 2 2
  spline S5 degree 2 poles (-5.6696, 7.8749) (-5.8074, 7.9121) (-6.1203, 7.9756) (-6.2582, 8.0237) knots 0 0 0 1 2 2 2
  spline S6 degree 2 poles (-6.2582, 8.0237) (-6.5711, 8.1331) (-6.8424, 8.5073) (-6.8424, 8.7873) knots 0 0 0 1 2 2 2
  spline S7 degree 2 poles (-6.8424, 8.7873) (-6.8424, 9.1659) (-6.2013, 9.6363) (-5.7199, 9.6363) knots 0 0 0 1 2 2 2
  spline S8 degree 2 poles (-5.7199, 9.6363) (-5.4792, 9.6363) (-5.0023, 9.5378) (-4.8141, 9.4547) knots 0 0 0 1 2 2 2
  line L30 (-4.8141, 9.4547) -> (-4.8141, 8.8377)
  line L31 (-4.8141, 8.8377) -> (-4.8732, 8.8377)
  spline S9 degree 2 poles (-4.8732, 8.8377) (-5.0241, 8.9667) (-5.4574, 9.144) (-5.6849, 9.144) knots 0 0 0 1 2 2 2
  spline S10 degree 2 poles (-5.6849, 9.144) (-5.7746, 9.144) (-5.9147, 9.1177) (-5.9934, 9.0827) knots 0 0 0 1 2 2 2
  spline S11 degree 2 poles (-5.9934, 9.0827) (-6.0569, 9.0543) (-6.1488, 8.9405) (-6.1488, 8.8705) knots 0 0 0 1 2 2 2
  spline S12 degree 2 poles (-6.1488, 8.8705) (-6.1488, 8.7654) (-6.0022, 8.6451) (-5.7921, 8.597) knots 0 0 0 1 2 2 2
  spline S13 degree 2 poles (-5.7921, 8.597) (-5.6565, 8.5663) (-5.4048, 8.5073) (-5.2604, 8.4569) knots 0 0 0 1 2 2 2
  spline S14 degree 2 poles (-5.2604, 8.4569) (-4.9804, 8.3541) (-4.7069, 8.0128) (-4.7069, 7.7327) knots 0 0 0 1 2 2 2
  spline S15 degree 2 poles (-4.7069, 7.7327) (-4.7069, 7.3301) (-5.3392, 6.84) (-5.8775, 6.84) knots 0 0 0 1 2 2 2
  line L32 (-4.359, 6.8881) -> (-4.359, 9.5881)
  line L33 (-4.359, 9.5881) -> (-2.5342, 9.5881)
  line L34 (-2.5342, 9.5881) -> (-2.5342, 9.074)
  line L35 (-2.5342, 9.074) -> (-3.6851, 9.074)
  line L36 (-3.6851, 9.074) -> (-3.6851, 8.5992)
  line L37 (-3.6851, 8.5992) -> (-2.6239, 8.5992)
  line L38 (-2.6239, 8.5992) -> (-2.6239, 8.085)
  line L39 (-2.6239, 8.085) -> (-3.6851, 8.085)
  line L40 (-3.6851, 8.085) -> (-3.6851, 7.4023)
  line L41 (-3.6851, 7.4023) -> (-2.5342, 7.4023)
  line L42 (-2.5342, 7.4023) -> (-2.5342, 6.8881)
  line L43 (-2.5342, 6.8881) -> (-4.359, 6.8881)
  line L44 (-0.274, 6.8881) -> (-2.0747, 6.8881)
  line L45 (-2.0747, 6.8881) -> (-2.0747, 9.5881)
  line L46 (-2.0747, 9.5881) -> (-1.3964, 9.5881)
  line L47 (-1.3964, 9.5881) -> (-1.3964, 7.4023)
  line L48 (-1.3964, 7.4023) -> (-0.274, 7.4023)
  line L49 (-0.274, 7.4023) -> (-0.274, 6.8881)
  spline S16 degree 2 poles (-4.8947, 3.8553) (-4.8947, 3.4598) (-5.0208, 2.8666) (-5.1617, 2.6664) knots 0 0 0 1 2 2 2
  spline S17 degree 2 poles (-5.1617, 2.6664) (-5.3001, 2.4687) (-5.7475, 2.266) (-6.0688, 2.266) knots 0 0 0 1 2 2 2
  spline S18 degree 2 poles (-6.0688, 2.266) (-6.3925, 2.266) (-6.8374, 2.4687) (-6.9783, 2.6713) knots 0 0 0 1 2 2 2
  spline S19 degree 2 poles (-6.9783, 2.6713) (-7.1192, 2.8716) (-7.2453, 3.4598) (-7.2453, 3.8553) knots 0 0 0 1 2 2 2
  spline S20 degree 2 poles (-7.2453, 3.8553) (-7.2453, 4.2606) (-7.1192, 4.834) (-6.9759, 5.0416) knots 0 0 0 1 2 2 2
  spline S21 degree 2 poles (-6.9759, 5.0416) (-6.8325, 5.2443) (-6.3802, 5.4421) (-6.0688, 5.4421) knots 0 0 0 1 2 2 2
  spline S22 degree 2 poles (-6.0688, 5.4421) (-5.74, 5.4421) (-5.3001, 5.2344) (-5.1592, 5.0293) knots 0 0 0 1 2 2 2
  spline S23 degree 2 poles (-5.1592, 5.0293) (-5.0208, 4.8291) (-4.8947, 4.2384) (-4.8947, 3.8553) knots 0 0 0 1 2 2 2
  spline S24 degree 2 poles (-5.6634, 3.8553) (-5.6634, 4.4213) (-5.8488, 4.8785) (-6.0688, 4.8785) knots 0 0 0 1 2 2 2
  spline S25 degree 2 poles (-6.0688, 4.8785) (-6.2887, 4.8785) (-6.4766, 4.4213) (-6.4766, 3.8528) knots 0 0 0 1 2 2 2
  spline S26 degree 2 poles (-6.4766, 3.8528) (-6.4766, 3.2942) (-6.2887, 2.8295) (-6.0688, 2.8295) knots 0 0 0 1 2 2 2
  spline S27 degree 2 poles (-6.0688, 2.8295) (-5.8513, 2.8295) (-5.6634, 3.2942) (-5.6634, 3.8553) knots 0 0 0 1 2 2 2
  point P0 (0, 0)
  point P1 (-6.07, 0)
  point P2 (-6.07, 2.266)
  point P3 (-6.07, 6.84)
  point P4 (-6.07, 6.84)
  point P5 (-6.07, 2.266)
  dimension "d21" = 2.266
  dimension "d22" = 6.84
extrude "Extrusion5" add sketch "Sketch4" along normal blind 0.9
properties part number "IPC M-SEL 0 key"
